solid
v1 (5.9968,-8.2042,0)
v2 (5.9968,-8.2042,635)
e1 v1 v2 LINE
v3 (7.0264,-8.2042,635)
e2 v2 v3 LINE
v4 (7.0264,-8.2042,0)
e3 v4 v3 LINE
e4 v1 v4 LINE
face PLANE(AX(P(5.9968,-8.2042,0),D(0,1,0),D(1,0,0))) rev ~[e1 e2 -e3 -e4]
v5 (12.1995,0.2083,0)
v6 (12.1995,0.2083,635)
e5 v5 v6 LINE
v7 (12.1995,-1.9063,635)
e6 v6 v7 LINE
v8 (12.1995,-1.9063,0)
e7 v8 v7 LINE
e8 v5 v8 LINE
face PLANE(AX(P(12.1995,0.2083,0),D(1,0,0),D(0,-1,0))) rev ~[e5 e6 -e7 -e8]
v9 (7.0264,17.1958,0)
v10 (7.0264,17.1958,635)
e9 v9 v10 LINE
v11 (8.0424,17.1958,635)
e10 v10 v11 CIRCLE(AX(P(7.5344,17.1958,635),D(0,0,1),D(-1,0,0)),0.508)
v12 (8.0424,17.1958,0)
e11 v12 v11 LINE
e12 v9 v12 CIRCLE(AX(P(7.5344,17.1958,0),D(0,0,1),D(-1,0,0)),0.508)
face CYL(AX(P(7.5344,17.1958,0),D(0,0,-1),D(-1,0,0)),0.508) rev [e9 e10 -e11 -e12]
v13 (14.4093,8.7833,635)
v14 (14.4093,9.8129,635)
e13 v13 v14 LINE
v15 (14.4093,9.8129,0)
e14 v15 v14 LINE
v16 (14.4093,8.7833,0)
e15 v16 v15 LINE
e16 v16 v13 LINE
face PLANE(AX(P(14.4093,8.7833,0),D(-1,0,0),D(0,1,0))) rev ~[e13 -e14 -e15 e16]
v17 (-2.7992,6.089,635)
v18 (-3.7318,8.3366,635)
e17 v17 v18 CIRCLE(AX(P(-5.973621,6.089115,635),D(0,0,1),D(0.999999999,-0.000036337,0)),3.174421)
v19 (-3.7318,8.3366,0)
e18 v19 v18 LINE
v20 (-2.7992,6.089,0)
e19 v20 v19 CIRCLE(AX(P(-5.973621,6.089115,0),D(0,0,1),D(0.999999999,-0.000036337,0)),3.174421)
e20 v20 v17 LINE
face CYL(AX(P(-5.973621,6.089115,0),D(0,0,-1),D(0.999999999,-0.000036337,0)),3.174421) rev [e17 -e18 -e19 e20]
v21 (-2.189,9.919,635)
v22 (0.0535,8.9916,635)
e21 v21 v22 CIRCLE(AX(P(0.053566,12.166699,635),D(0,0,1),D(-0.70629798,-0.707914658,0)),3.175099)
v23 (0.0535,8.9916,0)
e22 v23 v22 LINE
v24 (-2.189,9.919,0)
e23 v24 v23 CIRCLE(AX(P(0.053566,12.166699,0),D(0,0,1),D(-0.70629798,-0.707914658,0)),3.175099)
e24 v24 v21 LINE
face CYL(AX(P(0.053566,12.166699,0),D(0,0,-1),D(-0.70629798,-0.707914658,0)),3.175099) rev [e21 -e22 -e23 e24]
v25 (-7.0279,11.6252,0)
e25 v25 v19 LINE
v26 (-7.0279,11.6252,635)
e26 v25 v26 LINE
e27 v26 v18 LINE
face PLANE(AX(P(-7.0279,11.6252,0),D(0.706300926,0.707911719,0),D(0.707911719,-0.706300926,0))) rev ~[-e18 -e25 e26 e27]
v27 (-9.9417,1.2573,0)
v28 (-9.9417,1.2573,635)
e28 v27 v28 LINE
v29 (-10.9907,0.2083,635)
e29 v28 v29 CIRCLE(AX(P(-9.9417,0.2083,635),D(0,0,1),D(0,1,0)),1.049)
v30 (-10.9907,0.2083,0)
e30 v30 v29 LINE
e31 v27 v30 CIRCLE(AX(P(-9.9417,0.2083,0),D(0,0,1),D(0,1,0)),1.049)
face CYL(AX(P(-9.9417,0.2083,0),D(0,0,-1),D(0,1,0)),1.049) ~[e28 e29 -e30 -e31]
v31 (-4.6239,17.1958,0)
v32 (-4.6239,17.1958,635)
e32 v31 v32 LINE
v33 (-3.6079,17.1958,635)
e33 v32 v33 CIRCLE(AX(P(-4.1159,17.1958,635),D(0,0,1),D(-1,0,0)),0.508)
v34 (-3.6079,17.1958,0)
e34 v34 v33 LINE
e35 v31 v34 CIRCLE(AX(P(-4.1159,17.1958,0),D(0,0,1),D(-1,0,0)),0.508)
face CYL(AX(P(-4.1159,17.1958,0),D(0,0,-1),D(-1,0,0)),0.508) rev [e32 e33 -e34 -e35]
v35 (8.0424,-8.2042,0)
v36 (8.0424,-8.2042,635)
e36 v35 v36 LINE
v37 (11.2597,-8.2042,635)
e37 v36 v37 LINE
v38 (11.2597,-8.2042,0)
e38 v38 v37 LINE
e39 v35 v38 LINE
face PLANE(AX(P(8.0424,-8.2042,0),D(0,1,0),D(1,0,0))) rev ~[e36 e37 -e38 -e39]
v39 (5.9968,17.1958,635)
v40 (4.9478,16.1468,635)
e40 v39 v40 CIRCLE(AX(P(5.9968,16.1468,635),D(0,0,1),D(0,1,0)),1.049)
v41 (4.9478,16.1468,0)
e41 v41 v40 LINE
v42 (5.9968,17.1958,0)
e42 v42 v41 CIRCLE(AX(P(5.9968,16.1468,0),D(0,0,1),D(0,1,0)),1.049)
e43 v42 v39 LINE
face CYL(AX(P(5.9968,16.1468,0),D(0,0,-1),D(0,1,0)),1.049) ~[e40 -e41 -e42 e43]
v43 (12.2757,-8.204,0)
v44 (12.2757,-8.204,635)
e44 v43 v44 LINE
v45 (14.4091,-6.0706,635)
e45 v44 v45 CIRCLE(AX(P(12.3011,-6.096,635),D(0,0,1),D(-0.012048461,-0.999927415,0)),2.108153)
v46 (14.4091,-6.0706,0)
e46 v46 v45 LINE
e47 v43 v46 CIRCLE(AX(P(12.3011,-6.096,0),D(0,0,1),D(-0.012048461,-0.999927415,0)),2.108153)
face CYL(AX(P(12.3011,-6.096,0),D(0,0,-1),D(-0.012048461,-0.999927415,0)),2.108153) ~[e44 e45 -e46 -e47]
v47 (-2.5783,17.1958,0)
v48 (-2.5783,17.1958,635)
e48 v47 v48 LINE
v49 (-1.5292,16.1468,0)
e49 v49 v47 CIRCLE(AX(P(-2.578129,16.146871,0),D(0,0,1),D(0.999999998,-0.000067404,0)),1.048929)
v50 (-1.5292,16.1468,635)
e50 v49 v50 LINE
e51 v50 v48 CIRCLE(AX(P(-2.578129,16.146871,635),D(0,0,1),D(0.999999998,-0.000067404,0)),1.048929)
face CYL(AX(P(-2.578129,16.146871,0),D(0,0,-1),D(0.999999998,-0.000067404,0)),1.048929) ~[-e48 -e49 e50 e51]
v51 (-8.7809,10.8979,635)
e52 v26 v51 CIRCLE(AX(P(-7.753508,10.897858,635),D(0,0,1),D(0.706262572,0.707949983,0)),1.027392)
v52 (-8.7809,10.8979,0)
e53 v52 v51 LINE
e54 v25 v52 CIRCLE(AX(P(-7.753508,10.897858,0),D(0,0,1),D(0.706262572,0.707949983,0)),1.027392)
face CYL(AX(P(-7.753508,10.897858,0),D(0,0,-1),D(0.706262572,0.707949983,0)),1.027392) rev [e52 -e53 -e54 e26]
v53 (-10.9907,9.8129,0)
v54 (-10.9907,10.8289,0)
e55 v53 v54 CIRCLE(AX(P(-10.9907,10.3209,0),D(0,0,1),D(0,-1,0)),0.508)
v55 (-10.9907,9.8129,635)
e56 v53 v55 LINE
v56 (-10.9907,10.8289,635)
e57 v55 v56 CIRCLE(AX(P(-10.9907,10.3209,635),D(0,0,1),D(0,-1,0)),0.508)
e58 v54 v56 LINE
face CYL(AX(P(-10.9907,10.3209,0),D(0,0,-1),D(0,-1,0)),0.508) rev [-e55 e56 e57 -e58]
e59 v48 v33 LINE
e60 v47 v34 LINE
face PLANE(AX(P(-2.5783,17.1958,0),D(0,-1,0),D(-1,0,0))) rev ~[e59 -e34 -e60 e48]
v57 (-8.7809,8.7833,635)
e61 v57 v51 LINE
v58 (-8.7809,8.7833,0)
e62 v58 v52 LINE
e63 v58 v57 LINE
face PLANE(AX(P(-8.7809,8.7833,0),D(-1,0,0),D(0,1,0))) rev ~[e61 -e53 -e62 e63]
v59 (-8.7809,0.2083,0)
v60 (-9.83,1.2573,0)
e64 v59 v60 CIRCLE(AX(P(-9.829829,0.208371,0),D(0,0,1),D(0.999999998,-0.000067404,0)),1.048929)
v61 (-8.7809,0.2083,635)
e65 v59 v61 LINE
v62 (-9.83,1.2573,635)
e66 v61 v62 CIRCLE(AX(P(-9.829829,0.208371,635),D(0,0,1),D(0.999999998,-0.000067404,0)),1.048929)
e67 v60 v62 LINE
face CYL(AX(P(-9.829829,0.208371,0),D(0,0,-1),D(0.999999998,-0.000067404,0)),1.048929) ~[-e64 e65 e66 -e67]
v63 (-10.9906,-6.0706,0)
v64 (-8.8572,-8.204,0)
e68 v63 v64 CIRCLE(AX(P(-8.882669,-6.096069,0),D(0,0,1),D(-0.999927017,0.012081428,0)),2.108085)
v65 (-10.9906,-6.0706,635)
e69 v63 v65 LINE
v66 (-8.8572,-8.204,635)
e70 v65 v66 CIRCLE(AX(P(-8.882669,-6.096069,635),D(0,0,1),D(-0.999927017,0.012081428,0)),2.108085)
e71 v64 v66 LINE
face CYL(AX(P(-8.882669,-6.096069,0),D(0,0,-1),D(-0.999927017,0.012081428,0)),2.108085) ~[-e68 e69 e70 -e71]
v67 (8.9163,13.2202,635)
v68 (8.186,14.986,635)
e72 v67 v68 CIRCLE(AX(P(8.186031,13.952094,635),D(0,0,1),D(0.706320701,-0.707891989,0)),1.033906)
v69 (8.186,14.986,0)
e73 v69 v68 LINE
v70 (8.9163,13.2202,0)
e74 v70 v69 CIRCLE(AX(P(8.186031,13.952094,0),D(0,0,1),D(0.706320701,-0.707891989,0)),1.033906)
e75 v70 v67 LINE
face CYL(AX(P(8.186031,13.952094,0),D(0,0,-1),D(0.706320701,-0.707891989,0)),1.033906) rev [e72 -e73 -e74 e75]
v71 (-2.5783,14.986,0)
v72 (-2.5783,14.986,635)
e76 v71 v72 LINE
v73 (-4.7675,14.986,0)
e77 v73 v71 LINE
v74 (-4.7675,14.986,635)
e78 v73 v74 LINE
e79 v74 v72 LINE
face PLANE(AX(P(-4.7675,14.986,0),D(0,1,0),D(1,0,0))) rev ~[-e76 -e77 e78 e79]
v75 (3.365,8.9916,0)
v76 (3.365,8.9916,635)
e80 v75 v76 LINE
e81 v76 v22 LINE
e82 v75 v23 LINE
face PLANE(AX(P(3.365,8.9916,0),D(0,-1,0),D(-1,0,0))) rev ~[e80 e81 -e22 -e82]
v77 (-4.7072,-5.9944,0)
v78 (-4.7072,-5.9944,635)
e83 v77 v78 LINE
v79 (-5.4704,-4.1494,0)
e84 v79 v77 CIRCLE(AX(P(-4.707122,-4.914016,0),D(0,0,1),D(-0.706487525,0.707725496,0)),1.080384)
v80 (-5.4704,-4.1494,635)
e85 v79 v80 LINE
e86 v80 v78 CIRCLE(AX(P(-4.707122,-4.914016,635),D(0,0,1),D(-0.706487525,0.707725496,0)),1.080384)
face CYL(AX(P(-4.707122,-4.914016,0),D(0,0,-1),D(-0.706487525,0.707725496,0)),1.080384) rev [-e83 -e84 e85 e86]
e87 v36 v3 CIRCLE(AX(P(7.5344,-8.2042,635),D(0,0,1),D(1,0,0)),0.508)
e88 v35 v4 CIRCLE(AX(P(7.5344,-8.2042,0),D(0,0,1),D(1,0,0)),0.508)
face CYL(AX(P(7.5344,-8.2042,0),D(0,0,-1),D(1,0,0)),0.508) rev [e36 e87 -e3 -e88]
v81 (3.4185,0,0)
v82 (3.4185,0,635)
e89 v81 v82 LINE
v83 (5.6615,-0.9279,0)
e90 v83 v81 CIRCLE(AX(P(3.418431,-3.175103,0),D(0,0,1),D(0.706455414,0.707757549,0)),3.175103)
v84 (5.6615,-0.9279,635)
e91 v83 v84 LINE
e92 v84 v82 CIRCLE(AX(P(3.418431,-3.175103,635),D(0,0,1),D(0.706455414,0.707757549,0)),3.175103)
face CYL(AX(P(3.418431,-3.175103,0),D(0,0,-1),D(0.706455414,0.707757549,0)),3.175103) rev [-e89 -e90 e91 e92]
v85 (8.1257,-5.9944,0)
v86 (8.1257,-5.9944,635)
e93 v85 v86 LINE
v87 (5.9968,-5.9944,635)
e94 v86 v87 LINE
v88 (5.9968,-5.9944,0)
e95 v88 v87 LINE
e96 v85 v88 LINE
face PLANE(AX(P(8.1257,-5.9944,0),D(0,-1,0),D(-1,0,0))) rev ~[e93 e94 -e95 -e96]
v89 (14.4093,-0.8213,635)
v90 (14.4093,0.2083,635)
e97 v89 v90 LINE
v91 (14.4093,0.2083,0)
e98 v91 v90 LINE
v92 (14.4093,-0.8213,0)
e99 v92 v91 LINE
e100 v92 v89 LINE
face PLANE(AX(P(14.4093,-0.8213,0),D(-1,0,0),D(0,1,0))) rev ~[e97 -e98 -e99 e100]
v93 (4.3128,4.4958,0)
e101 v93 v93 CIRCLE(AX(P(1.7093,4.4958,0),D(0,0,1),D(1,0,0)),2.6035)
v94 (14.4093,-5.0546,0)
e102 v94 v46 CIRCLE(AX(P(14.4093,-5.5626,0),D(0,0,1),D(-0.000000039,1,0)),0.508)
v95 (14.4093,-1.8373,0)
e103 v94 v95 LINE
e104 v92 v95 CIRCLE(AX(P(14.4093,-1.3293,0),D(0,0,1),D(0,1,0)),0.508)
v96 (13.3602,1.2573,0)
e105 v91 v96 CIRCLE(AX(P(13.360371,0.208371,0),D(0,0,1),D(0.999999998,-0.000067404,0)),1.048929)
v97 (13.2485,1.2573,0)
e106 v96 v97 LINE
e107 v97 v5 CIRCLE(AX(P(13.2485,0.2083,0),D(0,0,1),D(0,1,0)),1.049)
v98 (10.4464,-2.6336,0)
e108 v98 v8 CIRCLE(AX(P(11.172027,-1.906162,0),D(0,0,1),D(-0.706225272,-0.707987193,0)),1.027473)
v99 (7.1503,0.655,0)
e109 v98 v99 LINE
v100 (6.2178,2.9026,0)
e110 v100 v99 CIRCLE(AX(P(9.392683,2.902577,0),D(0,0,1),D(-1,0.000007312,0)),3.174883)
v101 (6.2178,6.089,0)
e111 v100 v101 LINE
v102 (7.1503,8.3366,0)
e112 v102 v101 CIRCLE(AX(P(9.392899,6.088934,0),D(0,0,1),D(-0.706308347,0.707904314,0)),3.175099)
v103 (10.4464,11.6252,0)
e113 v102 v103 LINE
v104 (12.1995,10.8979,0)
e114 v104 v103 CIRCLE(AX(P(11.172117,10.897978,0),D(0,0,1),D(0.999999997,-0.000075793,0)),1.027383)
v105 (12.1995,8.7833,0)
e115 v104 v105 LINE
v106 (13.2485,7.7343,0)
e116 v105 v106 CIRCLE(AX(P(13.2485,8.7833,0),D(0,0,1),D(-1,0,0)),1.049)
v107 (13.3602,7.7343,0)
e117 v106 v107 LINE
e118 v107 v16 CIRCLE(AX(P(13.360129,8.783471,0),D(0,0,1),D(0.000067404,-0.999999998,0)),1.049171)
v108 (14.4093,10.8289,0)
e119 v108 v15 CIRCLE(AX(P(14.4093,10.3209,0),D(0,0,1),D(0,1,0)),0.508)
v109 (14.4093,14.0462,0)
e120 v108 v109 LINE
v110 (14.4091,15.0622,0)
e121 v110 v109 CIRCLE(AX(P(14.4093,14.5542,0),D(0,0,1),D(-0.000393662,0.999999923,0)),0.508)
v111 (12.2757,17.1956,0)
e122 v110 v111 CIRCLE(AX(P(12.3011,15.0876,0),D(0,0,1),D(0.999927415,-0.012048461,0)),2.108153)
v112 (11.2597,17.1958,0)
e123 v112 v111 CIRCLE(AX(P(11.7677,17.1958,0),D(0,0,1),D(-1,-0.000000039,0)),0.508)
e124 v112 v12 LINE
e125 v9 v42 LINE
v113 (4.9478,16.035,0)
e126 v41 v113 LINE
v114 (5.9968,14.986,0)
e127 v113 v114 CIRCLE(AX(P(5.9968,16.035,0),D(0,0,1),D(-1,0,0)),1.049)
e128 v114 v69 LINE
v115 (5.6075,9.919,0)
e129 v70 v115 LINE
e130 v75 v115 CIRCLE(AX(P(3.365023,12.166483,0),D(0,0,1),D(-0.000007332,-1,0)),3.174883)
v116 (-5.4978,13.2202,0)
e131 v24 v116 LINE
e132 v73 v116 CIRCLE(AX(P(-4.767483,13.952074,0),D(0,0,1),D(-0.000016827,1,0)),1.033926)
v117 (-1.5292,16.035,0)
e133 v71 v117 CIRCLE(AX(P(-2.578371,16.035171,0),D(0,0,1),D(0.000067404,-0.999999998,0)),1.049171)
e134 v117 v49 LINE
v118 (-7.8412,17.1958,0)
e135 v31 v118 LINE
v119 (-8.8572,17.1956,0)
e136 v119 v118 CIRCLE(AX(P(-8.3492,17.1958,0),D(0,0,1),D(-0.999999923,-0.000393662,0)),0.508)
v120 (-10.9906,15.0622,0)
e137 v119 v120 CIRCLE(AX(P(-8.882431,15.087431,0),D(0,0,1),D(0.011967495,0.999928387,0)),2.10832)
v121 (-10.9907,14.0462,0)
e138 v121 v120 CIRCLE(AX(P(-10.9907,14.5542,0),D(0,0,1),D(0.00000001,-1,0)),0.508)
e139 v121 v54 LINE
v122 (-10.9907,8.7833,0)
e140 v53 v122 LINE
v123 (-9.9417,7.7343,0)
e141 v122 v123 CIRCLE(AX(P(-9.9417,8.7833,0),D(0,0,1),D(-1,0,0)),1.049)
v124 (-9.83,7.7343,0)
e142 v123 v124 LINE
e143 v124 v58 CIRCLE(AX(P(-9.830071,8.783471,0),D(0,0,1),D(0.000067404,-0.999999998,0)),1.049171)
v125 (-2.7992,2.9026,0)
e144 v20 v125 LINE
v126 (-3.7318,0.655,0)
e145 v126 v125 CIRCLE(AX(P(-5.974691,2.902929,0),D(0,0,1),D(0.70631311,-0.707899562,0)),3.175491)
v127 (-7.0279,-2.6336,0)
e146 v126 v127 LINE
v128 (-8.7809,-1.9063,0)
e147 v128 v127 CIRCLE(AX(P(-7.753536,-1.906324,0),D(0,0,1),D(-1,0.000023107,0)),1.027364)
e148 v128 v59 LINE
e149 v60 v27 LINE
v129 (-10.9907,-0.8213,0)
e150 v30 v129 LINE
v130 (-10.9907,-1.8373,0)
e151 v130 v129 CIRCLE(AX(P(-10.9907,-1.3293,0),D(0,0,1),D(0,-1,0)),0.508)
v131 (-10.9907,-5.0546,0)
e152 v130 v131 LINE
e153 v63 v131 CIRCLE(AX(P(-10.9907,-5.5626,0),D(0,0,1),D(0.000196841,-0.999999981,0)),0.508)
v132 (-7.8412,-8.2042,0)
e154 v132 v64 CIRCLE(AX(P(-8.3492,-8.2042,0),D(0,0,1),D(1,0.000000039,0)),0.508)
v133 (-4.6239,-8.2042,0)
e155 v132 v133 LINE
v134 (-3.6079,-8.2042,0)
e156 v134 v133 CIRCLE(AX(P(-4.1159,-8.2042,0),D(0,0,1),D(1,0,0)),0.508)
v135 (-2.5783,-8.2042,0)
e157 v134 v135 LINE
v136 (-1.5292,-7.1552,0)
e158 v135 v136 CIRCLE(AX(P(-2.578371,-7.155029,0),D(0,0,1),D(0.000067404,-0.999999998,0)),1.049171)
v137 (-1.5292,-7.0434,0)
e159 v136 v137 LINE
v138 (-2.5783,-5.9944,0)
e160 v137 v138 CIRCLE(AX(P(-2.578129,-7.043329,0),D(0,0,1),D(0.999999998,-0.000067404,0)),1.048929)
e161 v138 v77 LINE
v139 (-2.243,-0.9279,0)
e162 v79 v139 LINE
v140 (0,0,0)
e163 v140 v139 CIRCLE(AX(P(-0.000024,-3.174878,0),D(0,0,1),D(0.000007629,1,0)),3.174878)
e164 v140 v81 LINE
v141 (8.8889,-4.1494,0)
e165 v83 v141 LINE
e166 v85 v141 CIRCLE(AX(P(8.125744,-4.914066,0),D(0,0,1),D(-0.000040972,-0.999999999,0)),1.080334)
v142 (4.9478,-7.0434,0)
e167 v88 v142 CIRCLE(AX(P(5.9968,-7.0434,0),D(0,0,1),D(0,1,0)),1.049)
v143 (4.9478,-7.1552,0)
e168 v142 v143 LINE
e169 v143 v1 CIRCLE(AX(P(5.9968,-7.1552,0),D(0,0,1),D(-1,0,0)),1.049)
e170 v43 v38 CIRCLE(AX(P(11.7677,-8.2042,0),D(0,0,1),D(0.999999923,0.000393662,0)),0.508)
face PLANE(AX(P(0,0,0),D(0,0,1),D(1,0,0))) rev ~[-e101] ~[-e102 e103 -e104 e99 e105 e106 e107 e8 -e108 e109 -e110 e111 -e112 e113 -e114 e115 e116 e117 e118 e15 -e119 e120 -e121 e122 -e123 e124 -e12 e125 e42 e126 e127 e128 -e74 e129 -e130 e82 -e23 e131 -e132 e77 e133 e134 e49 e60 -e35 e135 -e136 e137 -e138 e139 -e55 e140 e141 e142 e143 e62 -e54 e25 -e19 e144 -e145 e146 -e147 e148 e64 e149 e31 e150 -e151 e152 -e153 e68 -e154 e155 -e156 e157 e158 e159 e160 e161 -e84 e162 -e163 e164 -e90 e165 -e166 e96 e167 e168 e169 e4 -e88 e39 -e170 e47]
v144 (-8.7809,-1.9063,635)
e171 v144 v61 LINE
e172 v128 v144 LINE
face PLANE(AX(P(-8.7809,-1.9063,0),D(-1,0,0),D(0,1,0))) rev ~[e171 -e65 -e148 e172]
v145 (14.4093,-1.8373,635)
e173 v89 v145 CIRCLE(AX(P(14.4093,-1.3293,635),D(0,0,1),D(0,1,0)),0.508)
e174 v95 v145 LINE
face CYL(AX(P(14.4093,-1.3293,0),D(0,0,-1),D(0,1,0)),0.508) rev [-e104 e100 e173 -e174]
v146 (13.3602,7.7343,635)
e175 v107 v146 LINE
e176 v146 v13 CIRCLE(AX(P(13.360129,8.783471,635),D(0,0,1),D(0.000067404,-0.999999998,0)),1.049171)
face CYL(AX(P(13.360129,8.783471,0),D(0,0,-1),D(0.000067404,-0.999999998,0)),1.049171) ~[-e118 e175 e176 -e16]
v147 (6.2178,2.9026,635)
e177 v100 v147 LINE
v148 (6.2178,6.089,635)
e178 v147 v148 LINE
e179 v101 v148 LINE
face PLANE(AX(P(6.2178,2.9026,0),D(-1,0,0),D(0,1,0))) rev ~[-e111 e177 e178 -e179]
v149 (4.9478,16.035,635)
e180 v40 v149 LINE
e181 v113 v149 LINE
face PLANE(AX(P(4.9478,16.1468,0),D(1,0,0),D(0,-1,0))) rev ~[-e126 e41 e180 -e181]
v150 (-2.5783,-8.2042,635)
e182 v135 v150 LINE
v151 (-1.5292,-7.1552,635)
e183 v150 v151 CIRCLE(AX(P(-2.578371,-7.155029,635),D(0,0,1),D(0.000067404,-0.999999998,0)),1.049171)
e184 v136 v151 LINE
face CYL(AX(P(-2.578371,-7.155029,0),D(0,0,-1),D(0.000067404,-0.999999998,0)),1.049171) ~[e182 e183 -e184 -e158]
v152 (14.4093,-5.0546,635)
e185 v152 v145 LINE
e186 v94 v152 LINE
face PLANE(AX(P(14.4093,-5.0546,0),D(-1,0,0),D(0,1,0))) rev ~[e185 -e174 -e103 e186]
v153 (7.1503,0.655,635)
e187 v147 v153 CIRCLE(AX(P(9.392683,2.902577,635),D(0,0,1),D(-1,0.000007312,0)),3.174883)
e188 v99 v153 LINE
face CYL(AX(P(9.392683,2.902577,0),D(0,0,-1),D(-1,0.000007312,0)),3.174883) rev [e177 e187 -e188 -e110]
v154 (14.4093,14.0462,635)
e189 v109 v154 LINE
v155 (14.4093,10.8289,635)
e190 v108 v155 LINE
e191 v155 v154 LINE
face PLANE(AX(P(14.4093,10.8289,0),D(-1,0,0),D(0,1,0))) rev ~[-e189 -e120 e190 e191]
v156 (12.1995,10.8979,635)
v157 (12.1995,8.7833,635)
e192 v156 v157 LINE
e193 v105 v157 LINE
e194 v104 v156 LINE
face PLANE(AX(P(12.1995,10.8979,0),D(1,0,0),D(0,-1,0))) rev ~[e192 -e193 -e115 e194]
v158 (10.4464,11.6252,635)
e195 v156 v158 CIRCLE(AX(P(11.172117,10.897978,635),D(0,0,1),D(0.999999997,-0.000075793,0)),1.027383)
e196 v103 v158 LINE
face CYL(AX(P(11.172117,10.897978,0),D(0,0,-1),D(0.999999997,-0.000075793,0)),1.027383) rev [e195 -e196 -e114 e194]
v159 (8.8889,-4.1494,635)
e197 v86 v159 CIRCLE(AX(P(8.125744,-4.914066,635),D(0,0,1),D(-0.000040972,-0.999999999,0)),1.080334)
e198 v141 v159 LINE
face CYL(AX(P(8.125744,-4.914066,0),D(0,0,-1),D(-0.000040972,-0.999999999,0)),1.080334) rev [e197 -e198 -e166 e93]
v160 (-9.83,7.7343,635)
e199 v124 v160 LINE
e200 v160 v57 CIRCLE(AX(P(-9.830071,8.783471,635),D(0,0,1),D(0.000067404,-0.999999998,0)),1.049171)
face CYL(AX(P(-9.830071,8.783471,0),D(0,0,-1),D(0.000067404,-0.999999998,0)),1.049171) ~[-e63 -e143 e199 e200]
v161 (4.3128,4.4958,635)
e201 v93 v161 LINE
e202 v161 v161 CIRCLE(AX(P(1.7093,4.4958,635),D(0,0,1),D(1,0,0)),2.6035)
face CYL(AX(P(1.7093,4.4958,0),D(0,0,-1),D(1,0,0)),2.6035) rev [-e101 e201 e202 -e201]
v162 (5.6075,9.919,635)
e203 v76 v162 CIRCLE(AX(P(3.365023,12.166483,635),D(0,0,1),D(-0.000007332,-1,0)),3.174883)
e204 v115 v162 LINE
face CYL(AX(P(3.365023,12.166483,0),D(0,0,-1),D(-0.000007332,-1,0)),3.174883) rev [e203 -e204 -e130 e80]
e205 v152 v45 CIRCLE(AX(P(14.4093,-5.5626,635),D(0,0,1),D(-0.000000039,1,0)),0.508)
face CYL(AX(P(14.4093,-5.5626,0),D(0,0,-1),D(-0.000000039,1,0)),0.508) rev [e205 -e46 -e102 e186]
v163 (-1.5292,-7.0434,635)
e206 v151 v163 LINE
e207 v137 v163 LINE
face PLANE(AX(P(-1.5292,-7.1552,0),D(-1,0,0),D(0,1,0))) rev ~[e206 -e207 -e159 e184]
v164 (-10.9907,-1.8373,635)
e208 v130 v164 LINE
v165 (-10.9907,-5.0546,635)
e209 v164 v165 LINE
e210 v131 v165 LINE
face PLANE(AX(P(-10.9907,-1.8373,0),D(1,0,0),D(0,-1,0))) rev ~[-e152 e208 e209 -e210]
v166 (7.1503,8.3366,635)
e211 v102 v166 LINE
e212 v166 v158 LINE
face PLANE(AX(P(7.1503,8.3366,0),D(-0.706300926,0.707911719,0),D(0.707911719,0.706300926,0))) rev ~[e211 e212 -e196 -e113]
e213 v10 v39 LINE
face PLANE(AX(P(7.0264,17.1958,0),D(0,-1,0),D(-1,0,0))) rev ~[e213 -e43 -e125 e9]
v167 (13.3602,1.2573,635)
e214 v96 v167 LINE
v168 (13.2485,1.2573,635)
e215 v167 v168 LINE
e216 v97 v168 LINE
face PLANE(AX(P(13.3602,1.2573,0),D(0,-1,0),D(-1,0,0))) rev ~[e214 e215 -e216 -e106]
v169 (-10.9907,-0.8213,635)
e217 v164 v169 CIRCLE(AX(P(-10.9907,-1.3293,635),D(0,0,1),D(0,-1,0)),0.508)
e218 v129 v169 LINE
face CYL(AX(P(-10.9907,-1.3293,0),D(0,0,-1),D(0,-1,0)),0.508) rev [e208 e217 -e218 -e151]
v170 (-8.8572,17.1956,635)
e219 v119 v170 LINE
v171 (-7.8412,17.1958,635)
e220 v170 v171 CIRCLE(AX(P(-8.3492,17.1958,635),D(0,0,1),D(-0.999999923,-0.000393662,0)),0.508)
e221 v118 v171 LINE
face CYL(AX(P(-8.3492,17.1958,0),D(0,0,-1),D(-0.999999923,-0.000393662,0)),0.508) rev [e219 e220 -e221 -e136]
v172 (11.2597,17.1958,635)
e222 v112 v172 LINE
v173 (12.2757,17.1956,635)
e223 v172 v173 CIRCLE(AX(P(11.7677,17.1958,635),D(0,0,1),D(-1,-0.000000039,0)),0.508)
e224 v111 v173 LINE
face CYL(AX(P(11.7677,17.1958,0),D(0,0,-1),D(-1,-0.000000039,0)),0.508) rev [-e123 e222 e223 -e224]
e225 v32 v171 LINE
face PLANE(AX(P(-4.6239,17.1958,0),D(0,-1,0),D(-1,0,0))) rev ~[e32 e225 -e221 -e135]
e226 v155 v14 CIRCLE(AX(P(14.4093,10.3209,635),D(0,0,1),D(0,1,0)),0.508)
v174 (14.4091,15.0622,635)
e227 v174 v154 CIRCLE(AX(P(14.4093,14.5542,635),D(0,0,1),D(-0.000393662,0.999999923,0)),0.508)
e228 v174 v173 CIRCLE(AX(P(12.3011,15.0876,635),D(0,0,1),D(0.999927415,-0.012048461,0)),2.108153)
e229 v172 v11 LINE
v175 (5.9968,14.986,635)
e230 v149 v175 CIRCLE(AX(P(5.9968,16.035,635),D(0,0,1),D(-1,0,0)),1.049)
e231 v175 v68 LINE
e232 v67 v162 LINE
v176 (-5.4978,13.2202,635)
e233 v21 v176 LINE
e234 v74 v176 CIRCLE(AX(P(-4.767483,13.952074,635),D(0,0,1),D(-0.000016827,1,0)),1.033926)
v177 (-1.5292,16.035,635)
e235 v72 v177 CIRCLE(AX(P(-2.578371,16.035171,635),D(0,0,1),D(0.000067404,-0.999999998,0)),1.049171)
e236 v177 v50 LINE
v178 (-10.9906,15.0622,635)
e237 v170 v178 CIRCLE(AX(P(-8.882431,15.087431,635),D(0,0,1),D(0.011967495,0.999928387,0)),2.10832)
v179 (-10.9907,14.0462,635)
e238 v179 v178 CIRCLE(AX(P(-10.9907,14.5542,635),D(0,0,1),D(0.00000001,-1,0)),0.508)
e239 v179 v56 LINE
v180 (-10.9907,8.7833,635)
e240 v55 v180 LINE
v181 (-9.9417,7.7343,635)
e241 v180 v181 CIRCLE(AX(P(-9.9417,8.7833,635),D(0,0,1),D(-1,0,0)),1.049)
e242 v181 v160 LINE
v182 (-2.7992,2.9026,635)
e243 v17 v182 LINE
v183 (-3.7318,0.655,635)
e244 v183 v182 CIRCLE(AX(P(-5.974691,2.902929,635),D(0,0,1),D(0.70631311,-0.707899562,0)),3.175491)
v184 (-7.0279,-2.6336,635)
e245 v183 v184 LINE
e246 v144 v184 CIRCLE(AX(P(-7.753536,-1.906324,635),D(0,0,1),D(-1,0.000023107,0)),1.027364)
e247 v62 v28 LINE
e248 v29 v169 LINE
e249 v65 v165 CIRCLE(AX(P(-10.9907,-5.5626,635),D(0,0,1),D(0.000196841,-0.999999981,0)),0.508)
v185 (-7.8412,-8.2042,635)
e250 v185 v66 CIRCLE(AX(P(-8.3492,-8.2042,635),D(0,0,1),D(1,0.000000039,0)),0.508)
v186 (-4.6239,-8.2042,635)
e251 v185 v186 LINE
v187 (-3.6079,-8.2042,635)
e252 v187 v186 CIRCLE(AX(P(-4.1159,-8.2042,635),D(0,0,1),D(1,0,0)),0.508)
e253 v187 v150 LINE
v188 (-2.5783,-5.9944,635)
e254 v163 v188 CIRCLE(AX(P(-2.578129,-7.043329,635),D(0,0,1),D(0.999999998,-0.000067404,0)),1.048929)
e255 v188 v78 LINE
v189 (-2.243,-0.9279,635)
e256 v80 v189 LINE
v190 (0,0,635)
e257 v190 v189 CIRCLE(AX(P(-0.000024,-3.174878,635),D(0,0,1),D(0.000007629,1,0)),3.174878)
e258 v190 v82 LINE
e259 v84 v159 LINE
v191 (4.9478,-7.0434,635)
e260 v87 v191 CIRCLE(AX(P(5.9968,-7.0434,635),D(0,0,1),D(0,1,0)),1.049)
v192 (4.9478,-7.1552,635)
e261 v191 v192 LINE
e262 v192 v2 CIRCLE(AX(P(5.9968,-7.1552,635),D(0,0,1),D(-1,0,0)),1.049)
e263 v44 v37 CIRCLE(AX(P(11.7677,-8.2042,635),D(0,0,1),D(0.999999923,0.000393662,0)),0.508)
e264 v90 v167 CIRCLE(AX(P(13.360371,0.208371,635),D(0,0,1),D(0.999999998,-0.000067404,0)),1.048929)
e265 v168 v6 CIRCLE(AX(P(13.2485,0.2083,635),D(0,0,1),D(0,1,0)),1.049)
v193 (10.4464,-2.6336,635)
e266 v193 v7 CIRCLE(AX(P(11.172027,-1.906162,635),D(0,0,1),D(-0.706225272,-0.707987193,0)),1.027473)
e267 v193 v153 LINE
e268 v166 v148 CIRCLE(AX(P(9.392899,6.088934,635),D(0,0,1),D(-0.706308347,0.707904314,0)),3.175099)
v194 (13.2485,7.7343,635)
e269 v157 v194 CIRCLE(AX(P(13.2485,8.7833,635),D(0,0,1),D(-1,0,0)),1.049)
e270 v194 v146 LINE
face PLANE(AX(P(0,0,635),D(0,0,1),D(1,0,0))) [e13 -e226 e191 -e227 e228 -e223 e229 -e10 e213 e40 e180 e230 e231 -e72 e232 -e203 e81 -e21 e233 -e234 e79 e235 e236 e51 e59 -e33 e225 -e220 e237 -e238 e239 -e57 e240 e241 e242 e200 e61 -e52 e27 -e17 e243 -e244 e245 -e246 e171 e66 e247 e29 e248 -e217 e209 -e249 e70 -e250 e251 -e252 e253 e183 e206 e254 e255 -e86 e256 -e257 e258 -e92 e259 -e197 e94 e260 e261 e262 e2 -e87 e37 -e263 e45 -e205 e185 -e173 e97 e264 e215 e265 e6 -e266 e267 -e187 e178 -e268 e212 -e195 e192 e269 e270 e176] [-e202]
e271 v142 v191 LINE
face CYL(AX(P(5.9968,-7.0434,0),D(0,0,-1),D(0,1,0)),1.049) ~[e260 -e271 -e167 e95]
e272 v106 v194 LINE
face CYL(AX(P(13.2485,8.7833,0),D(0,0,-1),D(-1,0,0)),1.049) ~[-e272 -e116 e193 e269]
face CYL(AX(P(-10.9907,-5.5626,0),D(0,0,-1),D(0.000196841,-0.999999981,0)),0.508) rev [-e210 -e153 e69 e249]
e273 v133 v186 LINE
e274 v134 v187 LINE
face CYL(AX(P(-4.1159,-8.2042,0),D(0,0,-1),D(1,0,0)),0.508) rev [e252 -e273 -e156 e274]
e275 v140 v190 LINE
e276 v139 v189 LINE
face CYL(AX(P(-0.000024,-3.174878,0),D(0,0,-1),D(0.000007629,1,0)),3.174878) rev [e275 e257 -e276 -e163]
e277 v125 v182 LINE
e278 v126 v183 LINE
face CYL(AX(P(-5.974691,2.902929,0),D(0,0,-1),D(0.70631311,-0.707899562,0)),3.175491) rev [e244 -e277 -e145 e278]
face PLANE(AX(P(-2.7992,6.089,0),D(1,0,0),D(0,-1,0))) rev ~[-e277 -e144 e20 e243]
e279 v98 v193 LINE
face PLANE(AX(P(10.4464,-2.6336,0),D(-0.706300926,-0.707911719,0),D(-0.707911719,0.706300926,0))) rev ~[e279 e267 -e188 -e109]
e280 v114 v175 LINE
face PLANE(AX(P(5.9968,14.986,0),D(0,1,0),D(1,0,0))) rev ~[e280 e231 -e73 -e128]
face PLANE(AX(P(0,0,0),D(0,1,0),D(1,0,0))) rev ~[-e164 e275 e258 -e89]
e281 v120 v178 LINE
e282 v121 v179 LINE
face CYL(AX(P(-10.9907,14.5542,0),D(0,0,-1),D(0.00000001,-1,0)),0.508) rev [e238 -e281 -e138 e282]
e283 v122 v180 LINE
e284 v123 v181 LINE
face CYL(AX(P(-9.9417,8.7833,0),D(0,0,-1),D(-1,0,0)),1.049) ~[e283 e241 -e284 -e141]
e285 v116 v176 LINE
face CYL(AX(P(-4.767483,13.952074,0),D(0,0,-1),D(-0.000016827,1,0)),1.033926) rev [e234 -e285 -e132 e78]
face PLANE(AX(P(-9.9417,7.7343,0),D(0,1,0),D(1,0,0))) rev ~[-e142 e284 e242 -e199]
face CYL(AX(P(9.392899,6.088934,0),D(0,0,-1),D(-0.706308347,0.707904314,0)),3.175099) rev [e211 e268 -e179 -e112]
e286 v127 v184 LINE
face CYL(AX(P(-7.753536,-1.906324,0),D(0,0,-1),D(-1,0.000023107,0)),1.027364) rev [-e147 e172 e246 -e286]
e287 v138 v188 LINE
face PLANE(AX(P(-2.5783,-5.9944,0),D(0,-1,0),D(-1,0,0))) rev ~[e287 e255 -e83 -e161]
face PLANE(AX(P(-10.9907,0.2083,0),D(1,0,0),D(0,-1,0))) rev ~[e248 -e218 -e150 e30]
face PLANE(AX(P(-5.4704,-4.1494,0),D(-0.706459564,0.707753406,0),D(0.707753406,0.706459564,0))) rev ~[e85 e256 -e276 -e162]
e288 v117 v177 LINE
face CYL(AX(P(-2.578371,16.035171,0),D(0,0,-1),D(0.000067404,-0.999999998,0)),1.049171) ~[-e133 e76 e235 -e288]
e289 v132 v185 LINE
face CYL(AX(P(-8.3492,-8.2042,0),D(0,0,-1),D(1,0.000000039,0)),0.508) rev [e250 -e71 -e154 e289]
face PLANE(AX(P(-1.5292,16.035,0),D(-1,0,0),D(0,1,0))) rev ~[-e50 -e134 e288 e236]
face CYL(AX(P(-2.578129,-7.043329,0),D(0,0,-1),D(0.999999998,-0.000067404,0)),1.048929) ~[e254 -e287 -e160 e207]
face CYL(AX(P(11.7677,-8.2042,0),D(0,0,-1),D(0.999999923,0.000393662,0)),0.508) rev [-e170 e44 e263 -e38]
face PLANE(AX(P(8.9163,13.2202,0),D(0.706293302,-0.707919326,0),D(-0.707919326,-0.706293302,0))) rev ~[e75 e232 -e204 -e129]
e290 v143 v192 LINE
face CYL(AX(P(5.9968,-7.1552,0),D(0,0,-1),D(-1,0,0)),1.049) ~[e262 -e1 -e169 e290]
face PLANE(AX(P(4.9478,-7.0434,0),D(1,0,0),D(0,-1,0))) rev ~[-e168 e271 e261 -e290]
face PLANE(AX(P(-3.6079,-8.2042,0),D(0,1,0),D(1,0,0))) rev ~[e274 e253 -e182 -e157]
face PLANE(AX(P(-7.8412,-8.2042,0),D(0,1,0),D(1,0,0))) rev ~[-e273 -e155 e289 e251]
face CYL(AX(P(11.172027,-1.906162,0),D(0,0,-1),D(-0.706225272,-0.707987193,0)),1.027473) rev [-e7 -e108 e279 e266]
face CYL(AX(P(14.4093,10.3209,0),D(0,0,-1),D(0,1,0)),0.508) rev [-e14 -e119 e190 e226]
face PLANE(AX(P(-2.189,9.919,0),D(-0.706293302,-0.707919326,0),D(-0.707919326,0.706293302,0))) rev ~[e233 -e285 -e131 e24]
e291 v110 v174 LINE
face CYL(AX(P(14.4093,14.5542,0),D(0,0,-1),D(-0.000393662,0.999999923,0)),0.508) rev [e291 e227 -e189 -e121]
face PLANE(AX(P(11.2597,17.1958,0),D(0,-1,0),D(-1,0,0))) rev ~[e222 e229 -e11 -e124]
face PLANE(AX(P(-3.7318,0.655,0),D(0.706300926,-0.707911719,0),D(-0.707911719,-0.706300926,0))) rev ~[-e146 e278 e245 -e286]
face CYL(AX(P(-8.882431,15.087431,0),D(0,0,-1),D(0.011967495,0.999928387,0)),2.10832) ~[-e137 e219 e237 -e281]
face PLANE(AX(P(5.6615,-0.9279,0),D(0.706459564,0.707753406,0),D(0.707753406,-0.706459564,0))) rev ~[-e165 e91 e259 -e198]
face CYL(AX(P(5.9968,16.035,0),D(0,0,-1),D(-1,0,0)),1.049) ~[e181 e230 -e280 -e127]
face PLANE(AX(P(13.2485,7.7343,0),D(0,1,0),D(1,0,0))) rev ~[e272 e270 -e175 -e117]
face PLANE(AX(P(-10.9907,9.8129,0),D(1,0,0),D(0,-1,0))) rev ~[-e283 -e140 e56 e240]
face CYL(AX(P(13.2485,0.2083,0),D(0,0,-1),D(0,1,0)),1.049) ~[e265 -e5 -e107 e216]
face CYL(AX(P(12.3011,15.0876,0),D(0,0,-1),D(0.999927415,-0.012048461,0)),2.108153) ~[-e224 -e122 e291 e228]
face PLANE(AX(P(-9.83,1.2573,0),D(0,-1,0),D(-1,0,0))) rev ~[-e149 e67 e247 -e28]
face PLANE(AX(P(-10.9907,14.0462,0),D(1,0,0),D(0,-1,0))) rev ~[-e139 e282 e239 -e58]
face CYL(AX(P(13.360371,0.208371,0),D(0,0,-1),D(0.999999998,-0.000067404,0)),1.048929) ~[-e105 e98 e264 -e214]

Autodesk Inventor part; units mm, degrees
ref_plane "YZ Plane" through (0, 0, 0) normal (1, 0, 0) x (0, 1, 0)
ref_plane "XZ Plane" through (0, 0, 0) normal (0, 1, 0) x (-1, 0, 0)
ref_plane "XY Plane" through (0, 0, 0) normal (0, 0, 1) x (1, 0, 0)
sketch "Sketch1" plane through (0, 0, 0) normal (0, 0, 1) x (1, 0, 0)
  arc A0 (-5.4704, -4.1494) -> (-4.7072, -5.9944) centre (-4.7072, -4.914) ccw
  line L0 (-5.4704, -4.1494) -> (-2.243, -0.9279)
  arc A1 (0, 0) -> (-2.243, -0.9279) centre (0, -3.175) ccw
  line L1 (0, 0) -> (3.4185, 0)
  arc A2 (5.6615, -0.9279) -> (3.4185, 0) centre (3.4185, -3.175) ccw
  line L2 (5.6615, -0.9279) -> (8.8889, -4.1494)
  arc A3 (8.1257, -5.9944) -> (8.8889, -4.1494) centre (8.1257, -4.914) ccw
  line L3 (8.1257, -5.9944) -> (5.9968, -5.9944)
  arc A4 (5.9968, -5.9944) -> (4.9478, -7.0434) centre (5.9968, -7.0434) ccw
  line L4 (4.9478, -7.0434) -> (4.9478, -7.1552)
  arc A5 (4.9478, -7.1552) -> (5.9968, -8.2042) centre (5.9968, -7.1552) ccw
  line L5 (5.9968, -8.2042) -> (7.0264, -8.2042)
  arc A6 (8.0424, -8.2042) -> (7.0264, -8.2042) centre (7.5344, -8.2042) ccw
  line L6 (8.0424, -8.2042) -> (11.2597, -8.2042)
  arc A7 (12.2757, -8.204) -> (11.2597, -8.2042) centre (11.7677, -8.2042) ccw
  arc A8 (12.2757, -8.204) -> (14.4091, -6.0706) centre (12.3011, -6.096) ccw
  arc A9 (14.4093, -5.0546) -> (14.4091, -6.0706) centre (14.4093, -5.5626) ccw
  line L7 (14.4093, -5.0546) -> (14.4093, -1.8373)
  arc A10 (14.4093, -0.8213) -> (14.4093, -1.8373) centre (14.4093, -1.3293) ccw
  line L8 (14.4093, -0.8213) -> (14.4093, 0.2083)
  arc A11 (14.4093, 0.2083) -> (13.3602, 1.2573) centre (13.3602, 0.2083) ccw
  line L9 (13.3602, 1.2573) -> (13.2485, 1.2573)
  arc A12 (13.2485, 1.2573) -> (12.1995, 0.2083) centre (13.2485, 0.2083) ccw
  line L10 (12.1995, 0.2083) -> (12.1995, -1.9063)
  arc A13 (10.4464, -2.6336) -> (12.1995, -1.9063) centre (11.172, -1.9063) ccw
  line L11 (10.4464, -2.6336) -> (7.1503, 0.655)
  arc A14 (6.2178, 2.9026) -> (7.1503, 0.655) centre (9.3928, 2.9026) ccw
  line L12 (6.2178, 2.9026) -> (6.2178, 6.089)
  arc A15 (7.1503, 8.3366) -> (6.2178, 6.089) centre (9.3928, 6.089) ccw
  line L13 (7.1503, 8.3366) -> (10.4464, 11.6252)
  arc A16 (12.1995, 10.8979) -> (10.4464, 11.6252) centre (11.172, 10.8979) ccw
  line L14 (12.1995, 10.8979) -> (12.1995, 8.7833)
  arc A17 (12.1995, 8.7833) -> (13.2485, 7.7343) centre (13.2485, 8.7833) ccw
  line L15 (13.2485, 7.7343) -> (13.3602, 7.7343)
  arc A18 (13.3602, 7.7343) -> (14.4093, 8.7833) centre (13.3602, 8.7833) ccw
  line L16 (14.4093, 8.7833) -> (14.4093, 9.8129)
  arc A19 (14.4093, 10.8289) -> (14.4093, 9.8129) centre (14.4093, 10.3209) ccw
  line L17 (14.4093, 10.8289) -> (14.4093, 14.0462)
  arc A20 (14.4091, 15.0622) -> (14.4093, 14.0462) centre (14.4093, 14.5542) ccw
  arc A21 (14.4091, 15.0622) -> (12.2757, 17.1956) centre (12.3011, 15.0876) ccw
  arc A22 (11.2597, 17.1958) -> (12.2757, 17.1956) centre (11.7677, 17.1958) ccw
  line L18 (11.2597, 17.1958) -> (8.0424, 17.1958)
  arc A23 (7.0264, 17.1958) -> (8.0424, 17.1958) centre (7.5344, 17.1958) ccw
  line L19 (7.0264, 17.1958) -> (5.9968, 17.1958)
  arc A24 (5.9968, 17.1958) -> (4.9478, 16.1468) centre (5.9968, 16.1468) ccw
  line L20 (4.9478, 16.1468) -> (4.9478, 16.035)
  arc A25 (4.9478, 16.035) -> (5.9968, 14.986) centre (5.9968, 16.035) ccw
  line L21 (5.9968, 14.986) -> (8.186, 14.986)
  arc A26 (8.9163, 13.2202) -> (8.186, 14.986) centre (8.186, 13.9521) ccw
  line L22 (8.9163, 13.2202) -> (5.6075, 9.919)
  arc A27 (3.365, 8.9916) -> (5.6075, 9.919) centre (3.365, 12.1666) ccw
  line L23 (3.365, 8.9916) -> (0.0535, 8.9916)
  arc A28 (-2.189, 9.919) -> (0.0535, 8.9916) centre (0.0535, 12.1666) ccw
  line L24 (-2.189, 9.919) -> (-5.4978, 13.2202)
  arc A29 (-4.7675, 14.986) -> (-5.4978, 13.2202) centre (-4.7675, 13.9521) ccw
  line L25 (-4.7675, 14.986) -> (-2.5783, 14.986)
  arc A30 (-2.5783, 14.986) -> (-1.5292, 16.035) centre (-2.5783, 16.035) ccw
  line L26 (-1.5292, 16.035) -> (-1.5292, 16.1468)
  arc A31 (-1.5292, 16.1468) -> (-2.5783, 17.1958) centre (-2.5783, 16.1468) ccw
  line L27 (-2.5783, 17.1958) -> (-3.6079, 17.1958)
  arc A32 (-4.6239, 17.1958) -> (-3.6079, 17.1958) centre (-4.1159, 17.1958) ccw
  line L28 (-4.6239, 17.1958) -> (-7.8412, 17.1958)
  arc A33 (-8.8572, 17.1956) -> (-7.8412, 17.1958) centre (-8.3492, 17.1958) ccw
  arc A34 (-8.8572, 17.1956) -> (-10.9906, 15.0622) centre (-8.8825, 15.0876) ccw
  arc A35 (-10.9907, 14.0462) -> (-10.9906, 15.0622) centre (-10.9907, 14.5542) ccw
  line L29 (-10.9907, 14.0462) -> (-10.9907, 10.8289)
  arc A36 (-10.9907, 9.8129) -> (-10.9907, 10.8289) centre (-10.9907, 10.3209) ccw
  line L30 (-10.9907, 9.8129) -> (-10.9907, 8.7833)
  arc A37 (-10.9907, 8.7833) -> (-9.9417, 7.7343) centre (-9.9417, 8.7833) ccw
  line L31 (-9.9417, 7.7343) -> (-9.83, 7.7343)
  arc A38 (-9.83, 7.7343) -> (-8.7809, 8.7833) centre (-9.83, 8.7833) ccw
  line L32 (-8.7809, 8.7833) -> (-8.7809, 10.8979)
  arc A39 (-7.0279, 11.6252) -> (-8.7809, 10.8979) centre (-7.7535, 10.8979) ccw
  line L33 (-7.0279, 11.6252) -> (-3.7318, 8.3366)
  arc A40 (-2.7992, 6.089) -> (-3.7318, 8.3366) centre (-5.9742, 6.089) ccw
  line L34 (-2.7992, 6.089) -> (-2.7992, 2.9026)
  arc A41 (-3.7318, 0.655) -> (-2.7992, 2.9026) centre (-5.9742, 2.9026) ccw
  line L35 (-3.7318, 0.655) -> (-7.0279, -2.6336)
  arc A42 (-8.7809, -1.9063) -> (-7.0279, -2.6336) centre (-7.7535, -1.9063) ccw
  line L36 (-8.7809, -1.9063) -> (-8.7809, 0.2083)
  arc A43 (-8.7809, 0.2083) -> (-9.83, 1.2573) centre (-9.83, 0.2083) ccw
  line L37 (-9.83, 1.2573) -> (-9.9417, 1.2573)
  arc A44 (-9.9417, 1.2573) -> (-10.9907, 0.2083) centre (-9.9417, 0.2083) ccw
  line L38 (-10.9907, 0.2083) -> (-10.9907, -0.8213)
  arc A45 (-10.9907, -1.8373) -> (-10.9907, -0.8213) centre (-10.9907, -1.3293) ccw
  line L39 (-10.9907, -1.8373) -> (-10.9907, -5.0546)
  arc A46 (-10.9906, -6.0706) -> (-10.9907, -5.0546) centre (-10.9907, -5.5626) ccw
  arc A47 (-10.9906, -6.0706) -> (-8.8572, -8.204) centre (-8.8825, -6.096) ccw
  arc A48 (-7.8412, -8.2042) -> (-8.8572, -8.204) centre (-8.3492, -8.2042) ccw
  line L40 (-7.8412, -8.2042) -> (-4.6239, -8.2042)
  arc A49 (-3.6079, -8.2042) -> (-4.6239, -8.2042) centre (-4.1159, -8.2042) ccw
  line L41 (-3.6079, -8.2042) -> (-2.5783, -8.2042)
  arc A50 (-2.5783, -8.2042) -> (-1.5292, -7.1552) centre (-2.5783, -7.1552) ccw
  line L42 (-1.5292, -7.1552) -> (-1.5292, -7.0434)
  arc A51 (-1.5292, -7.0434) -> (-2.5783, -5.9944) centre (-2.5783, -7.0434) ccw
  line L43 (-2.5783, -5.9944) -> (-4.7072, -5.9944)
  circle A52 centre (1.7093, 4.4958) radius 2.6035
extrude "Extrusion1" add sketch "Sketch1" along normal blind 635
properties part number "25 in 1x1 T slot" material "Steel, Alloy"
